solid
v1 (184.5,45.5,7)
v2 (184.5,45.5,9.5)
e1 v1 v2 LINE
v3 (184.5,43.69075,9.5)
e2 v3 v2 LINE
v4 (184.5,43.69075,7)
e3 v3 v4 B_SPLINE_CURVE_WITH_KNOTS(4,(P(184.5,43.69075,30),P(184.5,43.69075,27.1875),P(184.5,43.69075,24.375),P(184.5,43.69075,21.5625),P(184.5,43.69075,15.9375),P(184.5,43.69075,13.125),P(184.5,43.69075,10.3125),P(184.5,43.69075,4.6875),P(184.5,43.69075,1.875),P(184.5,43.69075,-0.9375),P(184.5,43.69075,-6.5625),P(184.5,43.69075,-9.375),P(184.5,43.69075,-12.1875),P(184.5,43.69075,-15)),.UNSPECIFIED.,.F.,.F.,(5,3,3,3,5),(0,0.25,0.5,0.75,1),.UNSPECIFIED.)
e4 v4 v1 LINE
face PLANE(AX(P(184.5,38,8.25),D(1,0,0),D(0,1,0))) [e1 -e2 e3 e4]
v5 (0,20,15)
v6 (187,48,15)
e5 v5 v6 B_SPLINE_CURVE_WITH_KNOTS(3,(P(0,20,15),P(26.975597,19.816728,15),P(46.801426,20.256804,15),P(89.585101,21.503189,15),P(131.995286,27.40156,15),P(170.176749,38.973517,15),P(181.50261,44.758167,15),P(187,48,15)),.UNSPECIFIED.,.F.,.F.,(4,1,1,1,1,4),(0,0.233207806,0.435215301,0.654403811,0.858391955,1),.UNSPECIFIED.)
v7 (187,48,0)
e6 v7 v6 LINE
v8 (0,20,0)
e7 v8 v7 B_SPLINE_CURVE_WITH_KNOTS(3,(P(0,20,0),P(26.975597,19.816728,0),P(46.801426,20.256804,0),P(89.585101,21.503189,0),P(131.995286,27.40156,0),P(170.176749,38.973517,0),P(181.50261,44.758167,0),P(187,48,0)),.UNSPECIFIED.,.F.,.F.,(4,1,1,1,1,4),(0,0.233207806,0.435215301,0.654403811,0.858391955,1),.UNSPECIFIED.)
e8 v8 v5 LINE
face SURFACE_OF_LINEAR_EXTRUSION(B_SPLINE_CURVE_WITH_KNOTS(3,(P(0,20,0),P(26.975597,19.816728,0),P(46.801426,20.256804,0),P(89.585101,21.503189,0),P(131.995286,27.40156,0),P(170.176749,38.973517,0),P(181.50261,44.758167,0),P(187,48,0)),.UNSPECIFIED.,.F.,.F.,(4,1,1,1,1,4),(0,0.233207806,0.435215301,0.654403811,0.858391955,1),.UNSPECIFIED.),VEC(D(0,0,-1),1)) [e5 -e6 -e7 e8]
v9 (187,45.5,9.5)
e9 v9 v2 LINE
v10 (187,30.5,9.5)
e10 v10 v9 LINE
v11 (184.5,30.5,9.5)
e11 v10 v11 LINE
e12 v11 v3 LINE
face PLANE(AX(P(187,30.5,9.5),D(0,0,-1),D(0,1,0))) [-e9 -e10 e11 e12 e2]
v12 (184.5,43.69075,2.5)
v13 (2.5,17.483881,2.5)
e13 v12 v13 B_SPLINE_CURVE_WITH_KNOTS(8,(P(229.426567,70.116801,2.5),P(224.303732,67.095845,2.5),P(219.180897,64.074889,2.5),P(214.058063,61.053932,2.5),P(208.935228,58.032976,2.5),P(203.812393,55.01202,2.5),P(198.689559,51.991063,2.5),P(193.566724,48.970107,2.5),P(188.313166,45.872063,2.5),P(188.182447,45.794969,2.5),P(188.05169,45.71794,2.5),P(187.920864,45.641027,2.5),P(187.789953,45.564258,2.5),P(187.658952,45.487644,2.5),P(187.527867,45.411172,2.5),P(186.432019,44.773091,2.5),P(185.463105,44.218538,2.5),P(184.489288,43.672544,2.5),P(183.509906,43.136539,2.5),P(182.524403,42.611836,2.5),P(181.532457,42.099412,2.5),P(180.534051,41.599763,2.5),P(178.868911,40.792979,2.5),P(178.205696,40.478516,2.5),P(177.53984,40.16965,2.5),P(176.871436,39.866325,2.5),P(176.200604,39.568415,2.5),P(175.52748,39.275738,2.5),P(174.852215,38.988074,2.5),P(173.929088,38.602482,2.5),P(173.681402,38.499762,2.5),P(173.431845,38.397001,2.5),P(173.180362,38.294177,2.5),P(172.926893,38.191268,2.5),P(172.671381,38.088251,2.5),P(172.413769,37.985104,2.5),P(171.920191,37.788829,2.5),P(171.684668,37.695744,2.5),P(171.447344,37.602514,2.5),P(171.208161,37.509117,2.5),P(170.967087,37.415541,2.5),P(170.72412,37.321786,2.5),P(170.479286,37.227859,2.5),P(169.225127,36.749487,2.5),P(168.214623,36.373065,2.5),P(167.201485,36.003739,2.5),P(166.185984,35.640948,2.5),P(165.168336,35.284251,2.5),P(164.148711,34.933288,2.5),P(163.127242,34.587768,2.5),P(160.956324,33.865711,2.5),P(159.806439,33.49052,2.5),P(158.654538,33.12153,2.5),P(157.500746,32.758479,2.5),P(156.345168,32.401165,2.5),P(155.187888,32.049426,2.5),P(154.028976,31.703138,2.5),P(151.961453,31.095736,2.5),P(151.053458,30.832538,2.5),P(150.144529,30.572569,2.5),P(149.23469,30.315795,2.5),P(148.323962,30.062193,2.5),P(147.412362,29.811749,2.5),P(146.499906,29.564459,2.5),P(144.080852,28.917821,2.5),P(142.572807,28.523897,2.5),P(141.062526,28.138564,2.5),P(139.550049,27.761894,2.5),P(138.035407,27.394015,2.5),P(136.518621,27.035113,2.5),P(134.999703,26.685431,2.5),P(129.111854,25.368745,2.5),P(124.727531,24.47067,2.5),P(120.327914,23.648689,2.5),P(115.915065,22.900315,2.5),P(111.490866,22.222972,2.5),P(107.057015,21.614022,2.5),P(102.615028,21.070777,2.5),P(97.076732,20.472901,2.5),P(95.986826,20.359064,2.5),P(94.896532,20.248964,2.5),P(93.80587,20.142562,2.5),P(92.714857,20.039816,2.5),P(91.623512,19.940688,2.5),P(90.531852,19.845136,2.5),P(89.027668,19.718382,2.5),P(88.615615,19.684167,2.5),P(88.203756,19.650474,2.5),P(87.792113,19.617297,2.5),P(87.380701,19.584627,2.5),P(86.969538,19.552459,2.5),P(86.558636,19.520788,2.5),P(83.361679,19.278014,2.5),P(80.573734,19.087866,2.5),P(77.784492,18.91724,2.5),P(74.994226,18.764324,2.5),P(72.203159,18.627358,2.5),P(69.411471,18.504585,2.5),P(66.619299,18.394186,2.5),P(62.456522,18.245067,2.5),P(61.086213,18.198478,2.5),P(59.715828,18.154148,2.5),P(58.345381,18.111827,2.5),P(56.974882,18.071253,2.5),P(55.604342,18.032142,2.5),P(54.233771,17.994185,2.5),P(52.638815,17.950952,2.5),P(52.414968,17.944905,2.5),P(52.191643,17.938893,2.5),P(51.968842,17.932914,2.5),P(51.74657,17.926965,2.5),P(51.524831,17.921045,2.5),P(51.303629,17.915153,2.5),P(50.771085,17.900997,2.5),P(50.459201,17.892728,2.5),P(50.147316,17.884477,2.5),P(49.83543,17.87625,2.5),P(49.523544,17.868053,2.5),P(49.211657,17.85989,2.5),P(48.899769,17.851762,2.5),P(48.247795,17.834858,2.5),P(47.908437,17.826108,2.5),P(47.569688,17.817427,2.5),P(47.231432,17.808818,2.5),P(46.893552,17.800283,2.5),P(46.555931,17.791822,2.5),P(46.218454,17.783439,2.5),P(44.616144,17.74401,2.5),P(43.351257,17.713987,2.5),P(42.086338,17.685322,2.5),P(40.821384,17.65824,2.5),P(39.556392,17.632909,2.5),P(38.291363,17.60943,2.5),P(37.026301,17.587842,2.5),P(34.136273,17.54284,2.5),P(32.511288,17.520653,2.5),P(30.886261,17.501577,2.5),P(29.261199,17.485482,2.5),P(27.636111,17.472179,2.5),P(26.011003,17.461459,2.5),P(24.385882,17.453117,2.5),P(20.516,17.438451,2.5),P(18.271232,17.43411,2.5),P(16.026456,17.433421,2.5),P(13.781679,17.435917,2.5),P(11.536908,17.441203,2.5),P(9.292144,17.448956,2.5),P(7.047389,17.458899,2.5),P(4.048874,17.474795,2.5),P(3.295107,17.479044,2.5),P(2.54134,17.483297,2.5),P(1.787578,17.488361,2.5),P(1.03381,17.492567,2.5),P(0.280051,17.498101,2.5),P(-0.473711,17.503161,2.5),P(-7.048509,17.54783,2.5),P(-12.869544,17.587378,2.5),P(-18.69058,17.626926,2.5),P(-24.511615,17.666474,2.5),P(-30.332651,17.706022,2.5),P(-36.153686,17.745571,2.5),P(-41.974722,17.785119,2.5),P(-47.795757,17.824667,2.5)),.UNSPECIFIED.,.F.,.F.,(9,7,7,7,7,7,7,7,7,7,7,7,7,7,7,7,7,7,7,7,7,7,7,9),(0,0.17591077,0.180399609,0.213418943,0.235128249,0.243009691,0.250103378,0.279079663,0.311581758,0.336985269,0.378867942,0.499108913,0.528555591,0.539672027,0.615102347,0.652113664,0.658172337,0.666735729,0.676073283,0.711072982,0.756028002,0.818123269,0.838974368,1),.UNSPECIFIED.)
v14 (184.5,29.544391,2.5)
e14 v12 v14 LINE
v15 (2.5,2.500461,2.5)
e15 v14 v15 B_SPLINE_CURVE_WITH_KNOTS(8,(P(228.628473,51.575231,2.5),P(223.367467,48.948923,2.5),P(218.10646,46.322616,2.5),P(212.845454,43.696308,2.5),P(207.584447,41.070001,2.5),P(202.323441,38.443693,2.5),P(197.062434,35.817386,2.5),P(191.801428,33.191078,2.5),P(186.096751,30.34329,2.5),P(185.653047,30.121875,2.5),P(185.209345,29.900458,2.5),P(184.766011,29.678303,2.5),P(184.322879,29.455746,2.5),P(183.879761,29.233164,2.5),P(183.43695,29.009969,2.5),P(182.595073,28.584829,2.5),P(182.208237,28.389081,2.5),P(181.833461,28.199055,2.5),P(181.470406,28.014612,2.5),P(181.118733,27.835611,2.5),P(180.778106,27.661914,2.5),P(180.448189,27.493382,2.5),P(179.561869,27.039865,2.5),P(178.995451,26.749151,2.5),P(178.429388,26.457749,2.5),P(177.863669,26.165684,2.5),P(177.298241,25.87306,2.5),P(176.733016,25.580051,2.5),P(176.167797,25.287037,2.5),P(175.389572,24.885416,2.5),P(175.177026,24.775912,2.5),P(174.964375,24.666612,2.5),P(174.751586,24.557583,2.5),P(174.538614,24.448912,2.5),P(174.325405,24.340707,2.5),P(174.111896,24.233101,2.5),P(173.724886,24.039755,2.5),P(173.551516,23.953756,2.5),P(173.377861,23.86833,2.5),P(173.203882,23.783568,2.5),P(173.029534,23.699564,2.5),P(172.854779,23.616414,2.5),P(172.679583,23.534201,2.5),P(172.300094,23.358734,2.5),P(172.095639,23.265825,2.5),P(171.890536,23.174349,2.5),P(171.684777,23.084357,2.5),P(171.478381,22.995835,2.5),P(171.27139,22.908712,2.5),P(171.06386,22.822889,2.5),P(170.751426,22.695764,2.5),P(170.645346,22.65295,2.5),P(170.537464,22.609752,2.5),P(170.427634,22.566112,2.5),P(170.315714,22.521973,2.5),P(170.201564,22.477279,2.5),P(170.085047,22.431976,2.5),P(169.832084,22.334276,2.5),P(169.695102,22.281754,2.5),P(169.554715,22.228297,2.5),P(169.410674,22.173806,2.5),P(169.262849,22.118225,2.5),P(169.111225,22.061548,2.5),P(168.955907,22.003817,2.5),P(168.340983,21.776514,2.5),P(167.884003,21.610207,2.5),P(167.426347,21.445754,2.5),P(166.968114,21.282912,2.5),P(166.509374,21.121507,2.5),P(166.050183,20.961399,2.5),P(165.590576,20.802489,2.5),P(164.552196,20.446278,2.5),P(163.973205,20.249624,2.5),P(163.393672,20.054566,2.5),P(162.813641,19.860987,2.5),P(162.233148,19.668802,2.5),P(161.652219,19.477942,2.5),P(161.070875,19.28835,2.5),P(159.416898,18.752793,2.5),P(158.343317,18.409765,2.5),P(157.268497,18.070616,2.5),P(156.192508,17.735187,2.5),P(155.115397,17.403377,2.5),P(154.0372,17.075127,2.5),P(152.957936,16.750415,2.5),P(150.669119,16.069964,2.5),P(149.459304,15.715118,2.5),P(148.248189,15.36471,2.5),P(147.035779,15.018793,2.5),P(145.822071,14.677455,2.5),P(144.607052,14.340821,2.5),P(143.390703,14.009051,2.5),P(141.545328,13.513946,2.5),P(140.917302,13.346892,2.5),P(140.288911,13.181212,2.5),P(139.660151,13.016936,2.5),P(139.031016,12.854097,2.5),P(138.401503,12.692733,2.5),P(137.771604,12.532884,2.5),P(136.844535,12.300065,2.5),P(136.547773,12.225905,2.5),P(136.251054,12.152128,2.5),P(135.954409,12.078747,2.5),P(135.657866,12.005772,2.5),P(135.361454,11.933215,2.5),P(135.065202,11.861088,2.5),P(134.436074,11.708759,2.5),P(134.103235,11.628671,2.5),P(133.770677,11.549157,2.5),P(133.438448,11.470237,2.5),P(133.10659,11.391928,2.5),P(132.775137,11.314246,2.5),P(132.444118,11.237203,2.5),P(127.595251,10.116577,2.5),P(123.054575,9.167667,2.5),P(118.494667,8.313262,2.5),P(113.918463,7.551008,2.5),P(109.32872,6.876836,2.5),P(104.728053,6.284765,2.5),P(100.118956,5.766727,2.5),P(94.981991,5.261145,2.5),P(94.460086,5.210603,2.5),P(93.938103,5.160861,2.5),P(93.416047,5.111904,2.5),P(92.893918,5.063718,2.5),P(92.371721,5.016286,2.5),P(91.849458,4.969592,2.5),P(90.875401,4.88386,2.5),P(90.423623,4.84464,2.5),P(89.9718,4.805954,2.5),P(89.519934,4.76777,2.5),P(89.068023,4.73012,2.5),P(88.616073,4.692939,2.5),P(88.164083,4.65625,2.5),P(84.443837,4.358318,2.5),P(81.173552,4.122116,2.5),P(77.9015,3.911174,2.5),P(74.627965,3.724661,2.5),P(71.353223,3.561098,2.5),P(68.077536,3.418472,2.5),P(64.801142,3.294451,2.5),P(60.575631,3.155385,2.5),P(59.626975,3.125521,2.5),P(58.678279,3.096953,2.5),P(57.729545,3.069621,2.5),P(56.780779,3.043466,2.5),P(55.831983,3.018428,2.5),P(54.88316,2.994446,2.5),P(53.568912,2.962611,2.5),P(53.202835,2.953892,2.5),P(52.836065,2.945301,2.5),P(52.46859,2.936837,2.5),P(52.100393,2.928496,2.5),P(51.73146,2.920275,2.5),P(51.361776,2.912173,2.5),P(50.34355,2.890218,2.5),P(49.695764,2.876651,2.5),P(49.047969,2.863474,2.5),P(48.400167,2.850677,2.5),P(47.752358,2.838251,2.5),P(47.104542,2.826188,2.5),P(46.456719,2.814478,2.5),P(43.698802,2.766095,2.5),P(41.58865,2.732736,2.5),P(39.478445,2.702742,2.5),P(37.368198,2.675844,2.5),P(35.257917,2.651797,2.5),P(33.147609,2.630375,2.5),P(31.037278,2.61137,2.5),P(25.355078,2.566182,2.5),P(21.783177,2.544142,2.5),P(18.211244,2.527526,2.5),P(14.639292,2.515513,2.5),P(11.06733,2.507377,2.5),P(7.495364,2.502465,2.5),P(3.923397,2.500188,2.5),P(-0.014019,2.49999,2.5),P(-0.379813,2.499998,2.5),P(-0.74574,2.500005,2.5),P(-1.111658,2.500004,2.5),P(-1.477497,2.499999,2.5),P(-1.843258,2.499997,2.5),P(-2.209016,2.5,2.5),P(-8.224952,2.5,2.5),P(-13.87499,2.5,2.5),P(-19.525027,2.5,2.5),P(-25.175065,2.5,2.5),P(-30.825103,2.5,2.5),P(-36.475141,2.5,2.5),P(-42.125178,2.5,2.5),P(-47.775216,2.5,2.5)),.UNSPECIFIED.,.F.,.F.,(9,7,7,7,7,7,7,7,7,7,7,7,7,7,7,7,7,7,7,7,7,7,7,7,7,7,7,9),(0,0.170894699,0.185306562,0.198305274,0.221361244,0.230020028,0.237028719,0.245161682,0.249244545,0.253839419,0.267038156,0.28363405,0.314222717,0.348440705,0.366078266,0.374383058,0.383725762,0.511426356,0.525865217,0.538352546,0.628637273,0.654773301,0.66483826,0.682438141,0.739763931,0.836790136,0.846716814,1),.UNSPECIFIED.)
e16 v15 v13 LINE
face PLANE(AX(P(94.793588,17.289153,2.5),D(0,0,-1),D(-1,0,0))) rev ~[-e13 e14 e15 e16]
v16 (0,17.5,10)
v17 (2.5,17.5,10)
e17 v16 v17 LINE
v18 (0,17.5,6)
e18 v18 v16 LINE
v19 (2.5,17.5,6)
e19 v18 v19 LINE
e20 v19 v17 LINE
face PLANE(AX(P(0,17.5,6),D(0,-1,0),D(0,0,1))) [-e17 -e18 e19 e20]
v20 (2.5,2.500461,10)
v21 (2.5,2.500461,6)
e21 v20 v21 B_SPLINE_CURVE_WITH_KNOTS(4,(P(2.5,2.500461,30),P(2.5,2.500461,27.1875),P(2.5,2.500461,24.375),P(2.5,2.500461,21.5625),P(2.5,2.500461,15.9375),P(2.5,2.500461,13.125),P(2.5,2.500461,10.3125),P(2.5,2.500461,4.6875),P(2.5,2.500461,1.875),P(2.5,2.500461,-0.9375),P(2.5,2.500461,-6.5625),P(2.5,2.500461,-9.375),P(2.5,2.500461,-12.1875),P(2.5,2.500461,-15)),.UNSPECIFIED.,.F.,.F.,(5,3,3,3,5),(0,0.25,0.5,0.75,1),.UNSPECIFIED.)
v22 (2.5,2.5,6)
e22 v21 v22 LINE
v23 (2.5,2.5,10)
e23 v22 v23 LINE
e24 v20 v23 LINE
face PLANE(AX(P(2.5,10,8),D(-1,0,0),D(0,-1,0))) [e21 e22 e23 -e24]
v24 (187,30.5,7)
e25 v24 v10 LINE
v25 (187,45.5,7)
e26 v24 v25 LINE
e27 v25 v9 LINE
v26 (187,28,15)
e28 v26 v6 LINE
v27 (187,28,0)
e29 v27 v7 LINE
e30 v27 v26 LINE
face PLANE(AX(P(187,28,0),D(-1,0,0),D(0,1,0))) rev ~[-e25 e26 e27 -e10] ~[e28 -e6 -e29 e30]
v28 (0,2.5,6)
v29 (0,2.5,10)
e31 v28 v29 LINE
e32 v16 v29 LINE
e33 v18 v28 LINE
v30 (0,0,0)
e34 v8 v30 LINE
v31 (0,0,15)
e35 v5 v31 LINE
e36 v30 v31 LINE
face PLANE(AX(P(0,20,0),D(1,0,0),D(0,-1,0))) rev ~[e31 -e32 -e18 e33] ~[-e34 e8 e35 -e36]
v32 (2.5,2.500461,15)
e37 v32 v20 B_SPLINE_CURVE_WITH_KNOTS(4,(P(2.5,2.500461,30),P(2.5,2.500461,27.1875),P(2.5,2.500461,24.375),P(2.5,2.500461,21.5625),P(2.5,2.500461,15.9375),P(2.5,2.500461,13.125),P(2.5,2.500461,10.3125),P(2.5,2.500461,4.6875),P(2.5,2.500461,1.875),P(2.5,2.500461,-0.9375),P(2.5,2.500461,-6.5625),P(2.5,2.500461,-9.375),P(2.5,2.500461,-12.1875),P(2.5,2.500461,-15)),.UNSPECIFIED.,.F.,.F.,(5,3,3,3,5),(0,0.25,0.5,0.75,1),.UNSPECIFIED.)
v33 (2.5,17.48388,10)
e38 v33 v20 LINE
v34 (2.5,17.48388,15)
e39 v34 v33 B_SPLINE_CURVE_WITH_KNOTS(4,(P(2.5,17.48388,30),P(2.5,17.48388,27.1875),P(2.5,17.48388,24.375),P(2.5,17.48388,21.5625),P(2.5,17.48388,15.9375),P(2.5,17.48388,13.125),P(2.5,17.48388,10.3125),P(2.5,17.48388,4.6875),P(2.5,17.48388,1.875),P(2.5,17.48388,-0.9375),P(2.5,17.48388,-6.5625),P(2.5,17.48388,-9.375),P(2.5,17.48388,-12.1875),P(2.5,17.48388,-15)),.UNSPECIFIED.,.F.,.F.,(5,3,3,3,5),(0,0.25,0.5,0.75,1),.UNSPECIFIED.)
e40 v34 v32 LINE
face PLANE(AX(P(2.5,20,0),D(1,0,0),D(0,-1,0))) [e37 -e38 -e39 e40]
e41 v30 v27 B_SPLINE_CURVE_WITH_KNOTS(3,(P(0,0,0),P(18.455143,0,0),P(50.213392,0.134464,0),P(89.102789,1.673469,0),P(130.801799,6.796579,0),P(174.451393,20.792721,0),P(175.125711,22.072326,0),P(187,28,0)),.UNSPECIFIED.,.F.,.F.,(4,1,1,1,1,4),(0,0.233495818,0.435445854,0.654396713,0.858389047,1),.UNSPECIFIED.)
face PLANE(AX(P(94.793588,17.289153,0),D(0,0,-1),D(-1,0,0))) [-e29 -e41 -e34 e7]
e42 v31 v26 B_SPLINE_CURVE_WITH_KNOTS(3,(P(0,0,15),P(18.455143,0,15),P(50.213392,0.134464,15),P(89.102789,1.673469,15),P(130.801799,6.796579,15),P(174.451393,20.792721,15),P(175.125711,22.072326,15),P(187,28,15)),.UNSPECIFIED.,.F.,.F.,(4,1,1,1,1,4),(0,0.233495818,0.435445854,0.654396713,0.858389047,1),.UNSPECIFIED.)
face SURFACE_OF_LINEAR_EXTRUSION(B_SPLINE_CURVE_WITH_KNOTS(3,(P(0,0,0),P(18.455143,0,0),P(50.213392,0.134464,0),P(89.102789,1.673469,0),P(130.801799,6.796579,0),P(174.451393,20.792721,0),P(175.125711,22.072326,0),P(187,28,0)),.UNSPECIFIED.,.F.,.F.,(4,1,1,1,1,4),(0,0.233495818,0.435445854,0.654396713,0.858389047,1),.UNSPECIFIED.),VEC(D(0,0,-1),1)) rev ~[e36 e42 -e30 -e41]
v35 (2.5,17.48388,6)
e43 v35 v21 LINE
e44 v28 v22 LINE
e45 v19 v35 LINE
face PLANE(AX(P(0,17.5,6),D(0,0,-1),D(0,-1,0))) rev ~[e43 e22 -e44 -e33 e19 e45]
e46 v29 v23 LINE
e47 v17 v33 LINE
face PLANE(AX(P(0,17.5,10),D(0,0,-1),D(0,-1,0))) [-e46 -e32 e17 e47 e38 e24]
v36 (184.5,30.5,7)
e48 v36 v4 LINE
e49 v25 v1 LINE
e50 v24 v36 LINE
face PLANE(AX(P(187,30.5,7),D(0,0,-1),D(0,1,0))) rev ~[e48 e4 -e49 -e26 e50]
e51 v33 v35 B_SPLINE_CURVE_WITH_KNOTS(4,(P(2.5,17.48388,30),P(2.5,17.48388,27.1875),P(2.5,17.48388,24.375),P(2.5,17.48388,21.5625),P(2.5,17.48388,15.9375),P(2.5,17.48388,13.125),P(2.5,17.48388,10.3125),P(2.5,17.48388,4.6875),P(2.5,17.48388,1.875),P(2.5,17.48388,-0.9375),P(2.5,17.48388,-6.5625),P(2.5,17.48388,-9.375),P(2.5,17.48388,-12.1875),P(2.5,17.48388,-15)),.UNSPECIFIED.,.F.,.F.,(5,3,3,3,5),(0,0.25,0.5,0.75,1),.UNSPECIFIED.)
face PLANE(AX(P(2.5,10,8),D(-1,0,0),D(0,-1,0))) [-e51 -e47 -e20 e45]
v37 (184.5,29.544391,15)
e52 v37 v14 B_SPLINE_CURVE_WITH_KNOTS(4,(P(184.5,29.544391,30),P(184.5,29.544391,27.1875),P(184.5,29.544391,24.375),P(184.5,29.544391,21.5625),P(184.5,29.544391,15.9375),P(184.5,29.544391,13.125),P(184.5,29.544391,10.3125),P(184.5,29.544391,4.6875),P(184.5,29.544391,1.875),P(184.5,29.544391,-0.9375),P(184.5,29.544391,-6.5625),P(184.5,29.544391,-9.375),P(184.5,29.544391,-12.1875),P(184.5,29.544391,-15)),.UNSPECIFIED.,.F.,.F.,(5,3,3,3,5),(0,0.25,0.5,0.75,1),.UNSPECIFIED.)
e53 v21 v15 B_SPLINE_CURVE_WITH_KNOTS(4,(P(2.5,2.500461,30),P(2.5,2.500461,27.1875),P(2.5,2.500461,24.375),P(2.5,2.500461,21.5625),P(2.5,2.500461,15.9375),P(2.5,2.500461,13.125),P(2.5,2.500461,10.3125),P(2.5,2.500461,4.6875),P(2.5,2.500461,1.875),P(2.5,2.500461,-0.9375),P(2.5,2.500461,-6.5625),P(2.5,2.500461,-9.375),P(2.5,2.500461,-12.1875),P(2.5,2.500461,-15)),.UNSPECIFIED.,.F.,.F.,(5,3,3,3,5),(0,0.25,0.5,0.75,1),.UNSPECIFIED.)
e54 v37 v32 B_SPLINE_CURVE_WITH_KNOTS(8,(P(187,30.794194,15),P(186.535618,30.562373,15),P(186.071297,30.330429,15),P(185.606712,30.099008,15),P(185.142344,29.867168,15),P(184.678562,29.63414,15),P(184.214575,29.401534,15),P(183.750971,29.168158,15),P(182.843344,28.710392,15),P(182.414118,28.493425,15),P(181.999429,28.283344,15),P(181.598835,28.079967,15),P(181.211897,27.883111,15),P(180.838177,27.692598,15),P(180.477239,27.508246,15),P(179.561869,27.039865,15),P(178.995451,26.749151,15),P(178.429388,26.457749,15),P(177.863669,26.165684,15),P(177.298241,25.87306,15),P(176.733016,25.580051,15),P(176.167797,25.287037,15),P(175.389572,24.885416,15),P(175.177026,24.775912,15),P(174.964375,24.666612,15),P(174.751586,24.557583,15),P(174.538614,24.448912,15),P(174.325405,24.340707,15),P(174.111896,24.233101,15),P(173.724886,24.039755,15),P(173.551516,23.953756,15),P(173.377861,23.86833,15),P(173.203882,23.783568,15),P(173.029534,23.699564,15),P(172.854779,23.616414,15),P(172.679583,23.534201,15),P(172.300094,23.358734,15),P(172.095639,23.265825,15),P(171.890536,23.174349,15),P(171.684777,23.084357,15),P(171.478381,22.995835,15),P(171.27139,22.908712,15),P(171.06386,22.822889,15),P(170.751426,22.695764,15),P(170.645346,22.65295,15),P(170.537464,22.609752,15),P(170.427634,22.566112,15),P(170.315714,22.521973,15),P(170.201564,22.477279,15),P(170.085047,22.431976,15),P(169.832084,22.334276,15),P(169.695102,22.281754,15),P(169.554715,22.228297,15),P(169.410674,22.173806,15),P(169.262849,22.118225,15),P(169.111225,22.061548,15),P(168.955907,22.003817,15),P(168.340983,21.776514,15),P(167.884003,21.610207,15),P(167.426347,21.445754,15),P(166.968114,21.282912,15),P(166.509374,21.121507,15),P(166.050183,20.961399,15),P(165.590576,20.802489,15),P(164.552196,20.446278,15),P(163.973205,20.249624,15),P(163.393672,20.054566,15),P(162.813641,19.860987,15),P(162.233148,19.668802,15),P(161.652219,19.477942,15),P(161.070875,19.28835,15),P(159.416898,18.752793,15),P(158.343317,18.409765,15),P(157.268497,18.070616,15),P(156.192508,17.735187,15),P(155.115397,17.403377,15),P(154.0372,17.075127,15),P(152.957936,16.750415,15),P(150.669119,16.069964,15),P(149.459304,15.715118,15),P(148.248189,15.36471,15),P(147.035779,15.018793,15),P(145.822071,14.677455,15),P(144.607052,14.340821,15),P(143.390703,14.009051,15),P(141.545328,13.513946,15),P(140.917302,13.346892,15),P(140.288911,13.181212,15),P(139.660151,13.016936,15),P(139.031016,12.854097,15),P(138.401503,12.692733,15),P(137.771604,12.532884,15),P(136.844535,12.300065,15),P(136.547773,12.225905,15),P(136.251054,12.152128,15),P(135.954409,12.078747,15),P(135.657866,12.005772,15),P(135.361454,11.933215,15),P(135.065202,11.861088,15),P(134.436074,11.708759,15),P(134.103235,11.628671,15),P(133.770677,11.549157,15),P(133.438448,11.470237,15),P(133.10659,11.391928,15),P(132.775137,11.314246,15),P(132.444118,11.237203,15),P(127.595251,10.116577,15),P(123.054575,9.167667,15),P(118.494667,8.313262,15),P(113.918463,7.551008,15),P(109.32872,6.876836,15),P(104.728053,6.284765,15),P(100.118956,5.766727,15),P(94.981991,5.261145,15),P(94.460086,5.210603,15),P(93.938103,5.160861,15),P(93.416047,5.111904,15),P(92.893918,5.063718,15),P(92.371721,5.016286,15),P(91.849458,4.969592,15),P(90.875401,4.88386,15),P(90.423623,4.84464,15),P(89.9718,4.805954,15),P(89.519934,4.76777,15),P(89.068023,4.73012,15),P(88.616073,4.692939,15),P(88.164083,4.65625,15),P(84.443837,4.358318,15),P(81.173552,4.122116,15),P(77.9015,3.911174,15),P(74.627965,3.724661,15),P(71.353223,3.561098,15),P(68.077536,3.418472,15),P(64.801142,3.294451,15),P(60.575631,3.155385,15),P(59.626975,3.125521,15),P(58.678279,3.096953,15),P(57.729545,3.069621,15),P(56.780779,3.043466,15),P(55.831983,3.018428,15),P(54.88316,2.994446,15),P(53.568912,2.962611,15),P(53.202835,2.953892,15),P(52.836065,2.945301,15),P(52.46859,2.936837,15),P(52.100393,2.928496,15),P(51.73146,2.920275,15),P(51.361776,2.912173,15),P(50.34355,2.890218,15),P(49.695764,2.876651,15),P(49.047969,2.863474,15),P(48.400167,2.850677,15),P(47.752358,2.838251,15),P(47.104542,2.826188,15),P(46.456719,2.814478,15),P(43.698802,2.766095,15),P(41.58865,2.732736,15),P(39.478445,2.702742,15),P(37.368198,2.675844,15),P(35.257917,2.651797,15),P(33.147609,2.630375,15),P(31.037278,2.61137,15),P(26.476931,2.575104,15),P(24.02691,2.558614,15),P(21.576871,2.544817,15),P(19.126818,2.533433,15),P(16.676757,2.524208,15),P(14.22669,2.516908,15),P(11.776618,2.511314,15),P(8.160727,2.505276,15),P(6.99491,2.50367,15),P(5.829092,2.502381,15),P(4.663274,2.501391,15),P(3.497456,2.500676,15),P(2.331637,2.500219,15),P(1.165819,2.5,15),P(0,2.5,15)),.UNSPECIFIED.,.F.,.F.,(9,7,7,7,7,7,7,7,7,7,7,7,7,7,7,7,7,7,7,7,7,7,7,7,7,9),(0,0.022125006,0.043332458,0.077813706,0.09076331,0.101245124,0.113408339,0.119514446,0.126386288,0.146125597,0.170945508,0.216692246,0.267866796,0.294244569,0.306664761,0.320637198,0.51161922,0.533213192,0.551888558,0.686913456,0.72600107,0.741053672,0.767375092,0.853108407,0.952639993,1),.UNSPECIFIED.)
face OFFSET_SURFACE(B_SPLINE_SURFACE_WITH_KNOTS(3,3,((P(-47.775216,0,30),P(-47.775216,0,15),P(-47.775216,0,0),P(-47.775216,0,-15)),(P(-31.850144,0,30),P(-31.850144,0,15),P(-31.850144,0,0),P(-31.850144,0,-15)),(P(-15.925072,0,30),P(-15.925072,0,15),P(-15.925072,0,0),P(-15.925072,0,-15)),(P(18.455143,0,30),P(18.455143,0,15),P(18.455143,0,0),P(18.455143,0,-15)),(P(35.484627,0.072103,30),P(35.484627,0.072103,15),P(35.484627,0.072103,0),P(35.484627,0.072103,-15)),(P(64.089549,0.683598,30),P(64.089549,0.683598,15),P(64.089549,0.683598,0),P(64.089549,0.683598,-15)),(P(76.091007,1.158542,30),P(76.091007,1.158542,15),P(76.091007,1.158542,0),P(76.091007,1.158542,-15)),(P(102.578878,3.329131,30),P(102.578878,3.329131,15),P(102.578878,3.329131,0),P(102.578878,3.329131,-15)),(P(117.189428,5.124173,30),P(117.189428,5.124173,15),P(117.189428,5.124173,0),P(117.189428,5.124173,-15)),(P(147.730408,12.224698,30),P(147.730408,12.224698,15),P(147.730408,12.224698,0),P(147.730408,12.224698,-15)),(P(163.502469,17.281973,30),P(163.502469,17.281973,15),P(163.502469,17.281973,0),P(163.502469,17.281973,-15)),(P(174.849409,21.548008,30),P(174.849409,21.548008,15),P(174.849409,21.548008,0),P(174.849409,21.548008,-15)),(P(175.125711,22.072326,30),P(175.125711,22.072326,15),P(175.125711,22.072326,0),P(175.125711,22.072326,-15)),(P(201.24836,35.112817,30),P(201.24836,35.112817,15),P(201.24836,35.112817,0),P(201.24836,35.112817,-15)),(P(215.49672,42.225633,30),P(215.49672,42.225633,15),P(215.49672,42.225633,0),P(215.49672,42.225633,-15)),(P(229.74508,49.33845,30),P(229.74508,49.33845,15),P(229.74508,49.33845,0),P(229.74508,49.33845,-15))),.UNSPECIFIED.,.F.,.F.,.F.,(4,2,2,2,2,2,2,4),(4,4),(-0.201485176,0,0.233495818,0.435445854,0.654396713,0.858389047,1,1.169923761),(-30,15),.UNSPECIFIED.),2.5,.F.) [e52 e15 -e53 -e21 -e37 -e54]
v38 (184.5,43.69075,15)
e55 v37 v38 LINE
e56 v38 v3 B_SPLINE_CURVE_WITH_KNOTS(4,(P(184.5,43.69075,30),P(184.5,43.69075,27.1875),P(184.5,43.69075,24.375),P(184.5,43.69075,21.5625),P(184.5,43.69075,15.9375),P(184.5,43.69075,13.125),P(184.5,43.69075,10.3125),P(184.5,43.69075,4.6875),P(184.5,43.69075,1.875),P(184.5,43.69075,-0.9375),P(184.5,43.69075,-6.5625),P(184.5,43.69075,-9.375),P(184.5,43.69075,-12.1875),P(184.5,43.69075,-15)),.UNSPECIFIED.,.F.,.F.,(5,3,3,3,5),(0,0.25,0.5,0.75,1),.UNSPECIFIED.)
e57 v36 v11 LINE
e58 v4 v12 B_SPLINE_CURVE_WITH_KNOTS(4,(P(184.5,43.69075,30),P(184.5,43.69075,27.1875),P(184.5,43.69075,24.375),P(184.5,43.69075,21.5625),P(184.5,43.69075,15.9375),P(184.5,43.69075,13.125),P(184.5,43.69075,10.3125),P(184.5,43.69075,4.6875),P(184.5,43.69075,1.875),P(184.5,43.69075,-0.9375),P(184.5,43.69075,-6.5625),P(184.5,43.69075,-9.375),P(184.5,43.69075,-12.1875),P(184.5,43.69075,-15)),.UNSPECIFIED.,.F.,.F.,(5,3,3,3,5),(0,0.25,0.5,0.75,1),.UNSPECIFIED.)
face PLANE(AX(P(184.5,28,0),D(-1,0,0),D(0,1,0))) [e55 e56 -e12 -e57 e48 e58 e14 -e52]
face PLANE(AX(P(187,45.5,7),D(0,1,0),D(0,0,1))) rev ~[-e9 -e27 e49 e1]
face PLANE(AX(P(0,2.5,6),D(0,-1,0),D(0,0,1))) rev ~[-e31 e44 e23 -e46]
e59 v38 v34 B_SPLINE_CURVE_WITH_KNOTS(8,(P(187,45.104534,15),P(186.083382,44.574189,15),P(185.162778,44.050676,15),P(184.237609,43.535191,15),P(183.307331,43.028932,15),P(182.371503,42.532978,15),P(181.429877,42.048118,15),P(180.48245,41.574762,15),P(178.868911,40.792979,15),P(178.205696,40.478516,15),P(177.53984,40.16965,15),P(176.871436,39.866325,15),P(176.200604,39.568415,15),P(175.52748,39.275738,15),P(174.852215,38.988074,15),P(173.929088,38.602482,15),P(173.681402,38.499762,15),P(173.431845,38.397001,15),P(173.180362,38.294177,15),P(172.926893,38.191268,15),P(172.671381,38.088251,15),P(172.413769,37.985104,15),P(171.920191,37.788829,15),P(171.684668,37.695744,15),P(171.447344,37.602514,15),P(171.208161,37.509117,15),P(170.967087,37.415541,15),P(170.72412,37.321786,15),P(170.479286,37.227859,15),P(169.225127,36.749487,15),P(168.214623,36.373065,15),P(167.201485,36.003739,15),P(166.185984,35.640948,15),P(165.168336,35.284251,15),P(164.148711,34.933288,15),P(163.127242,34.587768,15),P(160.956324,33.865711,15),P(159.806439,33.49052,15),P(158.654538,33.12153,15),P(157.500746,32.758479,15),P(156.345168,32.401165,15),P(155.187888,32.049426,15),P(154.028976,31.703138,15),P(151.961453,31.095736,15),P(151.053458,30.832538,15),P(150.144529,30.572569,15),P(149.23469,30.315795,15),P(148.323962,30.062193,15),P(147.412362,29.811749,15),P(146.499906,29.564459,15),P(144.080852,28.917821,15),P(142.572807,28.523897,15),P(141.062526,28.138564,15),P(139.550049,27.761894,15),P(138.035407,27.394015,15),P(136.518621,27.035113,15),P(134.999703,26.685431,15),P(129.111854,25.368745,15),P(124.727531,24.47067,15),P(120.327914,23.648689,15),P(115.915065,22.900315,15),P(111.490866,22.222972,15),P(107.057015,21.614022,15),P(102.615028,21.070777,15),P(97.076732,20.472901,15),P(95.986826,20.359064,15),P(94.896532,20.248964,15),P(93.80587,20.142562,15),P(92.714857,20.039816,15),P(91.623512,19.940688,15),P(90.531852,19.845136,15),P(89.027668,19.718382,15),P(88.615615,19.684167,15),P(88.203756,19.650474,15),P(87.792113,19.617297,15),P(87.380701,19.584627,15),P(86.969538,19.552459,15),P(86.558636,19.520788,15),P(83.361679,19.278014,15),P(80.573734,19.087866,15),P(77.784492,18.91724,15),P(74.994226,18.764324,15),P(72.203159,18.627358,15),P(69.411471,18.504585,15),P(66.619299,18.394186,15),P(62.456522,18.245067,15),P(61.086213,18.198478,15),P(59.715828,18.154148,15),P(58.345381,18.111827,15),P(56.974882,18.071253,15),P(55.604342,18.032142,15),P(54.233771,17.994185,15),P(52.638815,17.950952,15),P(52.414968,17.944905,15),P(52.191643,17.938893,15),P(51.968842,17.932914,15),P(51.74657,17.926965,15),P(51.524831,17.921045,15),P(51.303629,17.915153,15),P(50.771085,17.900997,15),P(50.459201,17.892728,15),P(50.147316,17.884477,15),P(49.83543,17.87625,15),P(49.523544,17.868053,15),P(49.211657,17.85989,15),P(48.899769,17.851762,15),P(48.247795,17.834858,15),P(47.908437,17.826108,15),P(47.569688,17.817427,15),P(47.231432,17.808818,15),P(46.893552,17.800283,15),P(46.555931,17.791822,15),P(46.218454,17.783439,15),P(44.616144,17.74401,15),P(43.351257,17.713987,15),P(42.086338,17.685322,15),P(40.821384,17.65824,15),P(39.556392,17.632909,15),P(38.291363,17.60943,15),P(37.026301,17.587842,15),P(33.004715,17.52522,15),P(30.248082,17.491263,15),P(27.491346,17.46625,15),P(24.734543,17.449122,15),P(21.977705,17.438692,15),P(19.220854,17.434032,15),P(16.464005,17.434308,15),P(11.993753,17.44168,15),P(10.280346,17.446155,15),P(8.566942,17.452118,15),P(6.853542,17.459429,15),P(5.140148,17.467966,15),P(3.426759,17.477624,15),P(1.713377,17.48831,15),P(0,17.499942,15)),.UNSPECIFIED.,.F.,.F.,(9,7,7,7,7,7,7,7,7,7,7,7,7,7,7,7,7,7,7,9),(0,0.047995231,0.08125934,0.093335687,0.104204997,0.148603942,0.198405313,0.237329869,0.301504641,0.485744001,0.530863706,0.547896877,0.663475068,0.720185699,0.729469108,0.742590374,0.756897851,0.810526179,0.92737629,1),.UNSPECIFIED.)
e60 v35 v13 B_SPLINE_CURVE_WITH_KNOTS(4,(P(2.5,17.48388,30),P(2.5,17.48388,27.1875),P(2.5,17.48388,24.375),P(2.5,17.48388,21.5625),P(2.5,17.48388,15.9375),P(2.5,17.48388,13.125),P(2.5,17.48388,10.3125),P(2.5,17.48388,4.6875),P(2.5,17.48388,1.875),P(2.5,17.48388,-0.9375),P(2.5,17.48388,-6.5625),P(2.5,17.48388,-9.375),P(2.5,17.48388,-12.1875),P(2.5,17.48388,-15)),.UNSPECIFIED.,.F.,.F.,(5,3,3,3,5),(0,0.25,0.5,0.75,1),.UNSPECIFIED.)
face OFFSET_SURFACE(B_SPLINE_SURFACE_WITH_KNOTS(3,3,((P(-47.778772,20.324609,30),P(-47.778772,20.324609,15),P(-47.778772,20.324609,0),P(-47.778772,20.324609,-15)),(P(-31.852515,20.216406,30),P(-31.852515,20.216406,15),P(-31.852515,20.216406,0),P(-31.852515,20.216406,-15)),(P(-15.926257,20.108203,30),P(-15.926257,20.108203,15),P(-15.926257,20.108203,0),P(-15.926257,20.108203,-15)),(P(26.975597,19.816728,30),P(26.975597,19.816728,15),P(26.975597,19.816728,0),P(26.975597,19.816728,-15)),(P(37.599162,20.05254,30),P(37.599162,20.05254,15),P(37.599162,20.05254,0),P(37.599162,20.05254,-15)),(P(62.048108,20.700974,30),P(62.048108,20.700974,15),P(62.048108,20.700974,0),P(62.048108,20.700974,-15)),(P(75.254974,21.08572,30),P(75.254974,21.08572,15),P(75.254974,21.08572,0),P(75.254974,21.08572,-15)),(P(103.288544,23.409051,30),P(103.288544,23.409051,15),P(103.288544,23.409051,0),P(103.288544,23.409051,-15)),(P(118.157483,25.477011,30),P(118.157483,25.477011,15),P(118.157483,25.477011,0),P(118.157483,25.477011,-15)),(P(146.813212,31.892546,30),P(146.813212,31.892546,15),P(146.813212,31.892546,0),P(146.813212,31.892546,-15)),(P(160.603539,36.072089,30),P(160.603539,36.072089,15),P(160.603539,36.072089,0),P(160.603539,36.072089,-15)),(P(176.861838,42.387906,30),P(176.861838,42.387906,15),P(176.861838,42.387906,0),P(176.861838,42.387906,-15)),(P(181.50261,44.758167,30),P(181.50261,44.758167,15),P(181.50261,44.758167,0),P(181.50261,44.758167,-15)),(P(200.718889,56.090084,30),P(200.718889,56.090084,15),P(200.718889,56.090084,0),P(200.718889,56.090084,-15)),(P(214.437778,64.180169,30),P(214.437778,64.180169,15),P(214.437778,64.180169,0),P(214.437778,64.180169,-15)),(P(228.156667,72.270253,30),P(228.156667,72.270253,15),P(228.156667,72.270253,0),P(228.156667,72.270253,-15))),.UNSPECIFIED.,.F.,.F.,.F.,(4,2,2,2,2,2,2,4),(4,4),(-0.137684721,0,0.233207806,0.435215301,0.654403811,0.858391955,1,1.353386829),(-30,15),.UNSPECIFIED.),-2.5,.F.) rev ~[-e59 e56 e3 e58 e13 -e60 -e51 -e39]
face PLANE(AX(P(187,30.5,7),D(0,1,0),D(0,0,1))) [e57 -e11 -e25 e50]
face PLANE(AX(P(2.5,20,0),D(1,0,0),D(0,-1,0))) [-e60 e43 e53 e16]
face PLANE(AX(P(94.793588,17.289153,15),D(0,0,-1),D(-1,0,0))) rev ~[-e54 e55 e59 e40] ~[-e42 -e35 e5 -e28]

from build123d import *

# Parameters (mm, degrees)
F1_DEPTH = 15
F2_T     = -2.5
F3_W     = 15
F3_H     = 4
F4_DEPTH = 2.5
F5_W     = 15
F5_H     = 2.5
F6_DEPTH = 2.5


with BuildPart() as f1:
    # F0 (on Top) → F1 (new body)
    with BuildSketch(Plane.XY):
        with BuildLine():
            add(Edge.make_bspline(
                [(0, 20), (26.9755970884, 19.816727752), (46.8014260213, 20.2568038594), (89.5851012285, 21.5031885108), (131.9952862297, 27.4015600389), (170.1767487359, 38.9735166564), (181.502610445, 44.7581671178), (187, 48)],
                knots=[0, 0, 0, 0, 0.2332078058, 0.4352153014, 0.6544038109, 0.8583919551, 1, 1, 1, 1], degree=3))
            Line((0, 20), (0, 0))
            add(Edge.make_bspline(
                [(0, 0), (18.4551429238, 0), (50.2133915566, 0.1344641457), (89.1027887864, 1.6734689512), (130.8017993965, 6.7965785232), (174.4513926756, 20.7927209361), (175.1257110926, 22.0723256227), (187, 28)],
                knots=[0, 0, 0, 0, 0.2334958179, 0.4354458538, 0.6543967131, 0.8583890467, 1, 1, 1, 1], degree=3))
            Line((187, 28), (187, 48))
        make_face()
    extrude(amount=F1_DEPTH)

    # F2
    f2_openings = [f1.faces().sort_by_distance(p)[0] for p in [
        (93.450425, 16.290534, 15),
    ]]
    offset(amount=F2_T, openings=f2_openings, kind=Kind.INTERSECTION)

    # F3 (on face) → F4 (cut, through all)
    with BuildSketch(Plane(origin=(0, 0, 0), x_dir=(0, -1, 0), z_dir=(-1, 0, 0))):
        with Locations((-10, 8)):
            Rectangle(F3_W, F3_H)
    extrude(amount=-F4_DEPTH, mode=Mode.SUBTRACT)

    # F5 (on face) → F6 (cut, through all)
    with BuildSketch(Plane.YZ.offset(187)):
        with Locations((38, 8.25)):
            Rectangle(F5_W, F5_H)
    extrude(amount=-F6_DEPTH, mode=Mode.SUBTRACT)


solid = f1.part
